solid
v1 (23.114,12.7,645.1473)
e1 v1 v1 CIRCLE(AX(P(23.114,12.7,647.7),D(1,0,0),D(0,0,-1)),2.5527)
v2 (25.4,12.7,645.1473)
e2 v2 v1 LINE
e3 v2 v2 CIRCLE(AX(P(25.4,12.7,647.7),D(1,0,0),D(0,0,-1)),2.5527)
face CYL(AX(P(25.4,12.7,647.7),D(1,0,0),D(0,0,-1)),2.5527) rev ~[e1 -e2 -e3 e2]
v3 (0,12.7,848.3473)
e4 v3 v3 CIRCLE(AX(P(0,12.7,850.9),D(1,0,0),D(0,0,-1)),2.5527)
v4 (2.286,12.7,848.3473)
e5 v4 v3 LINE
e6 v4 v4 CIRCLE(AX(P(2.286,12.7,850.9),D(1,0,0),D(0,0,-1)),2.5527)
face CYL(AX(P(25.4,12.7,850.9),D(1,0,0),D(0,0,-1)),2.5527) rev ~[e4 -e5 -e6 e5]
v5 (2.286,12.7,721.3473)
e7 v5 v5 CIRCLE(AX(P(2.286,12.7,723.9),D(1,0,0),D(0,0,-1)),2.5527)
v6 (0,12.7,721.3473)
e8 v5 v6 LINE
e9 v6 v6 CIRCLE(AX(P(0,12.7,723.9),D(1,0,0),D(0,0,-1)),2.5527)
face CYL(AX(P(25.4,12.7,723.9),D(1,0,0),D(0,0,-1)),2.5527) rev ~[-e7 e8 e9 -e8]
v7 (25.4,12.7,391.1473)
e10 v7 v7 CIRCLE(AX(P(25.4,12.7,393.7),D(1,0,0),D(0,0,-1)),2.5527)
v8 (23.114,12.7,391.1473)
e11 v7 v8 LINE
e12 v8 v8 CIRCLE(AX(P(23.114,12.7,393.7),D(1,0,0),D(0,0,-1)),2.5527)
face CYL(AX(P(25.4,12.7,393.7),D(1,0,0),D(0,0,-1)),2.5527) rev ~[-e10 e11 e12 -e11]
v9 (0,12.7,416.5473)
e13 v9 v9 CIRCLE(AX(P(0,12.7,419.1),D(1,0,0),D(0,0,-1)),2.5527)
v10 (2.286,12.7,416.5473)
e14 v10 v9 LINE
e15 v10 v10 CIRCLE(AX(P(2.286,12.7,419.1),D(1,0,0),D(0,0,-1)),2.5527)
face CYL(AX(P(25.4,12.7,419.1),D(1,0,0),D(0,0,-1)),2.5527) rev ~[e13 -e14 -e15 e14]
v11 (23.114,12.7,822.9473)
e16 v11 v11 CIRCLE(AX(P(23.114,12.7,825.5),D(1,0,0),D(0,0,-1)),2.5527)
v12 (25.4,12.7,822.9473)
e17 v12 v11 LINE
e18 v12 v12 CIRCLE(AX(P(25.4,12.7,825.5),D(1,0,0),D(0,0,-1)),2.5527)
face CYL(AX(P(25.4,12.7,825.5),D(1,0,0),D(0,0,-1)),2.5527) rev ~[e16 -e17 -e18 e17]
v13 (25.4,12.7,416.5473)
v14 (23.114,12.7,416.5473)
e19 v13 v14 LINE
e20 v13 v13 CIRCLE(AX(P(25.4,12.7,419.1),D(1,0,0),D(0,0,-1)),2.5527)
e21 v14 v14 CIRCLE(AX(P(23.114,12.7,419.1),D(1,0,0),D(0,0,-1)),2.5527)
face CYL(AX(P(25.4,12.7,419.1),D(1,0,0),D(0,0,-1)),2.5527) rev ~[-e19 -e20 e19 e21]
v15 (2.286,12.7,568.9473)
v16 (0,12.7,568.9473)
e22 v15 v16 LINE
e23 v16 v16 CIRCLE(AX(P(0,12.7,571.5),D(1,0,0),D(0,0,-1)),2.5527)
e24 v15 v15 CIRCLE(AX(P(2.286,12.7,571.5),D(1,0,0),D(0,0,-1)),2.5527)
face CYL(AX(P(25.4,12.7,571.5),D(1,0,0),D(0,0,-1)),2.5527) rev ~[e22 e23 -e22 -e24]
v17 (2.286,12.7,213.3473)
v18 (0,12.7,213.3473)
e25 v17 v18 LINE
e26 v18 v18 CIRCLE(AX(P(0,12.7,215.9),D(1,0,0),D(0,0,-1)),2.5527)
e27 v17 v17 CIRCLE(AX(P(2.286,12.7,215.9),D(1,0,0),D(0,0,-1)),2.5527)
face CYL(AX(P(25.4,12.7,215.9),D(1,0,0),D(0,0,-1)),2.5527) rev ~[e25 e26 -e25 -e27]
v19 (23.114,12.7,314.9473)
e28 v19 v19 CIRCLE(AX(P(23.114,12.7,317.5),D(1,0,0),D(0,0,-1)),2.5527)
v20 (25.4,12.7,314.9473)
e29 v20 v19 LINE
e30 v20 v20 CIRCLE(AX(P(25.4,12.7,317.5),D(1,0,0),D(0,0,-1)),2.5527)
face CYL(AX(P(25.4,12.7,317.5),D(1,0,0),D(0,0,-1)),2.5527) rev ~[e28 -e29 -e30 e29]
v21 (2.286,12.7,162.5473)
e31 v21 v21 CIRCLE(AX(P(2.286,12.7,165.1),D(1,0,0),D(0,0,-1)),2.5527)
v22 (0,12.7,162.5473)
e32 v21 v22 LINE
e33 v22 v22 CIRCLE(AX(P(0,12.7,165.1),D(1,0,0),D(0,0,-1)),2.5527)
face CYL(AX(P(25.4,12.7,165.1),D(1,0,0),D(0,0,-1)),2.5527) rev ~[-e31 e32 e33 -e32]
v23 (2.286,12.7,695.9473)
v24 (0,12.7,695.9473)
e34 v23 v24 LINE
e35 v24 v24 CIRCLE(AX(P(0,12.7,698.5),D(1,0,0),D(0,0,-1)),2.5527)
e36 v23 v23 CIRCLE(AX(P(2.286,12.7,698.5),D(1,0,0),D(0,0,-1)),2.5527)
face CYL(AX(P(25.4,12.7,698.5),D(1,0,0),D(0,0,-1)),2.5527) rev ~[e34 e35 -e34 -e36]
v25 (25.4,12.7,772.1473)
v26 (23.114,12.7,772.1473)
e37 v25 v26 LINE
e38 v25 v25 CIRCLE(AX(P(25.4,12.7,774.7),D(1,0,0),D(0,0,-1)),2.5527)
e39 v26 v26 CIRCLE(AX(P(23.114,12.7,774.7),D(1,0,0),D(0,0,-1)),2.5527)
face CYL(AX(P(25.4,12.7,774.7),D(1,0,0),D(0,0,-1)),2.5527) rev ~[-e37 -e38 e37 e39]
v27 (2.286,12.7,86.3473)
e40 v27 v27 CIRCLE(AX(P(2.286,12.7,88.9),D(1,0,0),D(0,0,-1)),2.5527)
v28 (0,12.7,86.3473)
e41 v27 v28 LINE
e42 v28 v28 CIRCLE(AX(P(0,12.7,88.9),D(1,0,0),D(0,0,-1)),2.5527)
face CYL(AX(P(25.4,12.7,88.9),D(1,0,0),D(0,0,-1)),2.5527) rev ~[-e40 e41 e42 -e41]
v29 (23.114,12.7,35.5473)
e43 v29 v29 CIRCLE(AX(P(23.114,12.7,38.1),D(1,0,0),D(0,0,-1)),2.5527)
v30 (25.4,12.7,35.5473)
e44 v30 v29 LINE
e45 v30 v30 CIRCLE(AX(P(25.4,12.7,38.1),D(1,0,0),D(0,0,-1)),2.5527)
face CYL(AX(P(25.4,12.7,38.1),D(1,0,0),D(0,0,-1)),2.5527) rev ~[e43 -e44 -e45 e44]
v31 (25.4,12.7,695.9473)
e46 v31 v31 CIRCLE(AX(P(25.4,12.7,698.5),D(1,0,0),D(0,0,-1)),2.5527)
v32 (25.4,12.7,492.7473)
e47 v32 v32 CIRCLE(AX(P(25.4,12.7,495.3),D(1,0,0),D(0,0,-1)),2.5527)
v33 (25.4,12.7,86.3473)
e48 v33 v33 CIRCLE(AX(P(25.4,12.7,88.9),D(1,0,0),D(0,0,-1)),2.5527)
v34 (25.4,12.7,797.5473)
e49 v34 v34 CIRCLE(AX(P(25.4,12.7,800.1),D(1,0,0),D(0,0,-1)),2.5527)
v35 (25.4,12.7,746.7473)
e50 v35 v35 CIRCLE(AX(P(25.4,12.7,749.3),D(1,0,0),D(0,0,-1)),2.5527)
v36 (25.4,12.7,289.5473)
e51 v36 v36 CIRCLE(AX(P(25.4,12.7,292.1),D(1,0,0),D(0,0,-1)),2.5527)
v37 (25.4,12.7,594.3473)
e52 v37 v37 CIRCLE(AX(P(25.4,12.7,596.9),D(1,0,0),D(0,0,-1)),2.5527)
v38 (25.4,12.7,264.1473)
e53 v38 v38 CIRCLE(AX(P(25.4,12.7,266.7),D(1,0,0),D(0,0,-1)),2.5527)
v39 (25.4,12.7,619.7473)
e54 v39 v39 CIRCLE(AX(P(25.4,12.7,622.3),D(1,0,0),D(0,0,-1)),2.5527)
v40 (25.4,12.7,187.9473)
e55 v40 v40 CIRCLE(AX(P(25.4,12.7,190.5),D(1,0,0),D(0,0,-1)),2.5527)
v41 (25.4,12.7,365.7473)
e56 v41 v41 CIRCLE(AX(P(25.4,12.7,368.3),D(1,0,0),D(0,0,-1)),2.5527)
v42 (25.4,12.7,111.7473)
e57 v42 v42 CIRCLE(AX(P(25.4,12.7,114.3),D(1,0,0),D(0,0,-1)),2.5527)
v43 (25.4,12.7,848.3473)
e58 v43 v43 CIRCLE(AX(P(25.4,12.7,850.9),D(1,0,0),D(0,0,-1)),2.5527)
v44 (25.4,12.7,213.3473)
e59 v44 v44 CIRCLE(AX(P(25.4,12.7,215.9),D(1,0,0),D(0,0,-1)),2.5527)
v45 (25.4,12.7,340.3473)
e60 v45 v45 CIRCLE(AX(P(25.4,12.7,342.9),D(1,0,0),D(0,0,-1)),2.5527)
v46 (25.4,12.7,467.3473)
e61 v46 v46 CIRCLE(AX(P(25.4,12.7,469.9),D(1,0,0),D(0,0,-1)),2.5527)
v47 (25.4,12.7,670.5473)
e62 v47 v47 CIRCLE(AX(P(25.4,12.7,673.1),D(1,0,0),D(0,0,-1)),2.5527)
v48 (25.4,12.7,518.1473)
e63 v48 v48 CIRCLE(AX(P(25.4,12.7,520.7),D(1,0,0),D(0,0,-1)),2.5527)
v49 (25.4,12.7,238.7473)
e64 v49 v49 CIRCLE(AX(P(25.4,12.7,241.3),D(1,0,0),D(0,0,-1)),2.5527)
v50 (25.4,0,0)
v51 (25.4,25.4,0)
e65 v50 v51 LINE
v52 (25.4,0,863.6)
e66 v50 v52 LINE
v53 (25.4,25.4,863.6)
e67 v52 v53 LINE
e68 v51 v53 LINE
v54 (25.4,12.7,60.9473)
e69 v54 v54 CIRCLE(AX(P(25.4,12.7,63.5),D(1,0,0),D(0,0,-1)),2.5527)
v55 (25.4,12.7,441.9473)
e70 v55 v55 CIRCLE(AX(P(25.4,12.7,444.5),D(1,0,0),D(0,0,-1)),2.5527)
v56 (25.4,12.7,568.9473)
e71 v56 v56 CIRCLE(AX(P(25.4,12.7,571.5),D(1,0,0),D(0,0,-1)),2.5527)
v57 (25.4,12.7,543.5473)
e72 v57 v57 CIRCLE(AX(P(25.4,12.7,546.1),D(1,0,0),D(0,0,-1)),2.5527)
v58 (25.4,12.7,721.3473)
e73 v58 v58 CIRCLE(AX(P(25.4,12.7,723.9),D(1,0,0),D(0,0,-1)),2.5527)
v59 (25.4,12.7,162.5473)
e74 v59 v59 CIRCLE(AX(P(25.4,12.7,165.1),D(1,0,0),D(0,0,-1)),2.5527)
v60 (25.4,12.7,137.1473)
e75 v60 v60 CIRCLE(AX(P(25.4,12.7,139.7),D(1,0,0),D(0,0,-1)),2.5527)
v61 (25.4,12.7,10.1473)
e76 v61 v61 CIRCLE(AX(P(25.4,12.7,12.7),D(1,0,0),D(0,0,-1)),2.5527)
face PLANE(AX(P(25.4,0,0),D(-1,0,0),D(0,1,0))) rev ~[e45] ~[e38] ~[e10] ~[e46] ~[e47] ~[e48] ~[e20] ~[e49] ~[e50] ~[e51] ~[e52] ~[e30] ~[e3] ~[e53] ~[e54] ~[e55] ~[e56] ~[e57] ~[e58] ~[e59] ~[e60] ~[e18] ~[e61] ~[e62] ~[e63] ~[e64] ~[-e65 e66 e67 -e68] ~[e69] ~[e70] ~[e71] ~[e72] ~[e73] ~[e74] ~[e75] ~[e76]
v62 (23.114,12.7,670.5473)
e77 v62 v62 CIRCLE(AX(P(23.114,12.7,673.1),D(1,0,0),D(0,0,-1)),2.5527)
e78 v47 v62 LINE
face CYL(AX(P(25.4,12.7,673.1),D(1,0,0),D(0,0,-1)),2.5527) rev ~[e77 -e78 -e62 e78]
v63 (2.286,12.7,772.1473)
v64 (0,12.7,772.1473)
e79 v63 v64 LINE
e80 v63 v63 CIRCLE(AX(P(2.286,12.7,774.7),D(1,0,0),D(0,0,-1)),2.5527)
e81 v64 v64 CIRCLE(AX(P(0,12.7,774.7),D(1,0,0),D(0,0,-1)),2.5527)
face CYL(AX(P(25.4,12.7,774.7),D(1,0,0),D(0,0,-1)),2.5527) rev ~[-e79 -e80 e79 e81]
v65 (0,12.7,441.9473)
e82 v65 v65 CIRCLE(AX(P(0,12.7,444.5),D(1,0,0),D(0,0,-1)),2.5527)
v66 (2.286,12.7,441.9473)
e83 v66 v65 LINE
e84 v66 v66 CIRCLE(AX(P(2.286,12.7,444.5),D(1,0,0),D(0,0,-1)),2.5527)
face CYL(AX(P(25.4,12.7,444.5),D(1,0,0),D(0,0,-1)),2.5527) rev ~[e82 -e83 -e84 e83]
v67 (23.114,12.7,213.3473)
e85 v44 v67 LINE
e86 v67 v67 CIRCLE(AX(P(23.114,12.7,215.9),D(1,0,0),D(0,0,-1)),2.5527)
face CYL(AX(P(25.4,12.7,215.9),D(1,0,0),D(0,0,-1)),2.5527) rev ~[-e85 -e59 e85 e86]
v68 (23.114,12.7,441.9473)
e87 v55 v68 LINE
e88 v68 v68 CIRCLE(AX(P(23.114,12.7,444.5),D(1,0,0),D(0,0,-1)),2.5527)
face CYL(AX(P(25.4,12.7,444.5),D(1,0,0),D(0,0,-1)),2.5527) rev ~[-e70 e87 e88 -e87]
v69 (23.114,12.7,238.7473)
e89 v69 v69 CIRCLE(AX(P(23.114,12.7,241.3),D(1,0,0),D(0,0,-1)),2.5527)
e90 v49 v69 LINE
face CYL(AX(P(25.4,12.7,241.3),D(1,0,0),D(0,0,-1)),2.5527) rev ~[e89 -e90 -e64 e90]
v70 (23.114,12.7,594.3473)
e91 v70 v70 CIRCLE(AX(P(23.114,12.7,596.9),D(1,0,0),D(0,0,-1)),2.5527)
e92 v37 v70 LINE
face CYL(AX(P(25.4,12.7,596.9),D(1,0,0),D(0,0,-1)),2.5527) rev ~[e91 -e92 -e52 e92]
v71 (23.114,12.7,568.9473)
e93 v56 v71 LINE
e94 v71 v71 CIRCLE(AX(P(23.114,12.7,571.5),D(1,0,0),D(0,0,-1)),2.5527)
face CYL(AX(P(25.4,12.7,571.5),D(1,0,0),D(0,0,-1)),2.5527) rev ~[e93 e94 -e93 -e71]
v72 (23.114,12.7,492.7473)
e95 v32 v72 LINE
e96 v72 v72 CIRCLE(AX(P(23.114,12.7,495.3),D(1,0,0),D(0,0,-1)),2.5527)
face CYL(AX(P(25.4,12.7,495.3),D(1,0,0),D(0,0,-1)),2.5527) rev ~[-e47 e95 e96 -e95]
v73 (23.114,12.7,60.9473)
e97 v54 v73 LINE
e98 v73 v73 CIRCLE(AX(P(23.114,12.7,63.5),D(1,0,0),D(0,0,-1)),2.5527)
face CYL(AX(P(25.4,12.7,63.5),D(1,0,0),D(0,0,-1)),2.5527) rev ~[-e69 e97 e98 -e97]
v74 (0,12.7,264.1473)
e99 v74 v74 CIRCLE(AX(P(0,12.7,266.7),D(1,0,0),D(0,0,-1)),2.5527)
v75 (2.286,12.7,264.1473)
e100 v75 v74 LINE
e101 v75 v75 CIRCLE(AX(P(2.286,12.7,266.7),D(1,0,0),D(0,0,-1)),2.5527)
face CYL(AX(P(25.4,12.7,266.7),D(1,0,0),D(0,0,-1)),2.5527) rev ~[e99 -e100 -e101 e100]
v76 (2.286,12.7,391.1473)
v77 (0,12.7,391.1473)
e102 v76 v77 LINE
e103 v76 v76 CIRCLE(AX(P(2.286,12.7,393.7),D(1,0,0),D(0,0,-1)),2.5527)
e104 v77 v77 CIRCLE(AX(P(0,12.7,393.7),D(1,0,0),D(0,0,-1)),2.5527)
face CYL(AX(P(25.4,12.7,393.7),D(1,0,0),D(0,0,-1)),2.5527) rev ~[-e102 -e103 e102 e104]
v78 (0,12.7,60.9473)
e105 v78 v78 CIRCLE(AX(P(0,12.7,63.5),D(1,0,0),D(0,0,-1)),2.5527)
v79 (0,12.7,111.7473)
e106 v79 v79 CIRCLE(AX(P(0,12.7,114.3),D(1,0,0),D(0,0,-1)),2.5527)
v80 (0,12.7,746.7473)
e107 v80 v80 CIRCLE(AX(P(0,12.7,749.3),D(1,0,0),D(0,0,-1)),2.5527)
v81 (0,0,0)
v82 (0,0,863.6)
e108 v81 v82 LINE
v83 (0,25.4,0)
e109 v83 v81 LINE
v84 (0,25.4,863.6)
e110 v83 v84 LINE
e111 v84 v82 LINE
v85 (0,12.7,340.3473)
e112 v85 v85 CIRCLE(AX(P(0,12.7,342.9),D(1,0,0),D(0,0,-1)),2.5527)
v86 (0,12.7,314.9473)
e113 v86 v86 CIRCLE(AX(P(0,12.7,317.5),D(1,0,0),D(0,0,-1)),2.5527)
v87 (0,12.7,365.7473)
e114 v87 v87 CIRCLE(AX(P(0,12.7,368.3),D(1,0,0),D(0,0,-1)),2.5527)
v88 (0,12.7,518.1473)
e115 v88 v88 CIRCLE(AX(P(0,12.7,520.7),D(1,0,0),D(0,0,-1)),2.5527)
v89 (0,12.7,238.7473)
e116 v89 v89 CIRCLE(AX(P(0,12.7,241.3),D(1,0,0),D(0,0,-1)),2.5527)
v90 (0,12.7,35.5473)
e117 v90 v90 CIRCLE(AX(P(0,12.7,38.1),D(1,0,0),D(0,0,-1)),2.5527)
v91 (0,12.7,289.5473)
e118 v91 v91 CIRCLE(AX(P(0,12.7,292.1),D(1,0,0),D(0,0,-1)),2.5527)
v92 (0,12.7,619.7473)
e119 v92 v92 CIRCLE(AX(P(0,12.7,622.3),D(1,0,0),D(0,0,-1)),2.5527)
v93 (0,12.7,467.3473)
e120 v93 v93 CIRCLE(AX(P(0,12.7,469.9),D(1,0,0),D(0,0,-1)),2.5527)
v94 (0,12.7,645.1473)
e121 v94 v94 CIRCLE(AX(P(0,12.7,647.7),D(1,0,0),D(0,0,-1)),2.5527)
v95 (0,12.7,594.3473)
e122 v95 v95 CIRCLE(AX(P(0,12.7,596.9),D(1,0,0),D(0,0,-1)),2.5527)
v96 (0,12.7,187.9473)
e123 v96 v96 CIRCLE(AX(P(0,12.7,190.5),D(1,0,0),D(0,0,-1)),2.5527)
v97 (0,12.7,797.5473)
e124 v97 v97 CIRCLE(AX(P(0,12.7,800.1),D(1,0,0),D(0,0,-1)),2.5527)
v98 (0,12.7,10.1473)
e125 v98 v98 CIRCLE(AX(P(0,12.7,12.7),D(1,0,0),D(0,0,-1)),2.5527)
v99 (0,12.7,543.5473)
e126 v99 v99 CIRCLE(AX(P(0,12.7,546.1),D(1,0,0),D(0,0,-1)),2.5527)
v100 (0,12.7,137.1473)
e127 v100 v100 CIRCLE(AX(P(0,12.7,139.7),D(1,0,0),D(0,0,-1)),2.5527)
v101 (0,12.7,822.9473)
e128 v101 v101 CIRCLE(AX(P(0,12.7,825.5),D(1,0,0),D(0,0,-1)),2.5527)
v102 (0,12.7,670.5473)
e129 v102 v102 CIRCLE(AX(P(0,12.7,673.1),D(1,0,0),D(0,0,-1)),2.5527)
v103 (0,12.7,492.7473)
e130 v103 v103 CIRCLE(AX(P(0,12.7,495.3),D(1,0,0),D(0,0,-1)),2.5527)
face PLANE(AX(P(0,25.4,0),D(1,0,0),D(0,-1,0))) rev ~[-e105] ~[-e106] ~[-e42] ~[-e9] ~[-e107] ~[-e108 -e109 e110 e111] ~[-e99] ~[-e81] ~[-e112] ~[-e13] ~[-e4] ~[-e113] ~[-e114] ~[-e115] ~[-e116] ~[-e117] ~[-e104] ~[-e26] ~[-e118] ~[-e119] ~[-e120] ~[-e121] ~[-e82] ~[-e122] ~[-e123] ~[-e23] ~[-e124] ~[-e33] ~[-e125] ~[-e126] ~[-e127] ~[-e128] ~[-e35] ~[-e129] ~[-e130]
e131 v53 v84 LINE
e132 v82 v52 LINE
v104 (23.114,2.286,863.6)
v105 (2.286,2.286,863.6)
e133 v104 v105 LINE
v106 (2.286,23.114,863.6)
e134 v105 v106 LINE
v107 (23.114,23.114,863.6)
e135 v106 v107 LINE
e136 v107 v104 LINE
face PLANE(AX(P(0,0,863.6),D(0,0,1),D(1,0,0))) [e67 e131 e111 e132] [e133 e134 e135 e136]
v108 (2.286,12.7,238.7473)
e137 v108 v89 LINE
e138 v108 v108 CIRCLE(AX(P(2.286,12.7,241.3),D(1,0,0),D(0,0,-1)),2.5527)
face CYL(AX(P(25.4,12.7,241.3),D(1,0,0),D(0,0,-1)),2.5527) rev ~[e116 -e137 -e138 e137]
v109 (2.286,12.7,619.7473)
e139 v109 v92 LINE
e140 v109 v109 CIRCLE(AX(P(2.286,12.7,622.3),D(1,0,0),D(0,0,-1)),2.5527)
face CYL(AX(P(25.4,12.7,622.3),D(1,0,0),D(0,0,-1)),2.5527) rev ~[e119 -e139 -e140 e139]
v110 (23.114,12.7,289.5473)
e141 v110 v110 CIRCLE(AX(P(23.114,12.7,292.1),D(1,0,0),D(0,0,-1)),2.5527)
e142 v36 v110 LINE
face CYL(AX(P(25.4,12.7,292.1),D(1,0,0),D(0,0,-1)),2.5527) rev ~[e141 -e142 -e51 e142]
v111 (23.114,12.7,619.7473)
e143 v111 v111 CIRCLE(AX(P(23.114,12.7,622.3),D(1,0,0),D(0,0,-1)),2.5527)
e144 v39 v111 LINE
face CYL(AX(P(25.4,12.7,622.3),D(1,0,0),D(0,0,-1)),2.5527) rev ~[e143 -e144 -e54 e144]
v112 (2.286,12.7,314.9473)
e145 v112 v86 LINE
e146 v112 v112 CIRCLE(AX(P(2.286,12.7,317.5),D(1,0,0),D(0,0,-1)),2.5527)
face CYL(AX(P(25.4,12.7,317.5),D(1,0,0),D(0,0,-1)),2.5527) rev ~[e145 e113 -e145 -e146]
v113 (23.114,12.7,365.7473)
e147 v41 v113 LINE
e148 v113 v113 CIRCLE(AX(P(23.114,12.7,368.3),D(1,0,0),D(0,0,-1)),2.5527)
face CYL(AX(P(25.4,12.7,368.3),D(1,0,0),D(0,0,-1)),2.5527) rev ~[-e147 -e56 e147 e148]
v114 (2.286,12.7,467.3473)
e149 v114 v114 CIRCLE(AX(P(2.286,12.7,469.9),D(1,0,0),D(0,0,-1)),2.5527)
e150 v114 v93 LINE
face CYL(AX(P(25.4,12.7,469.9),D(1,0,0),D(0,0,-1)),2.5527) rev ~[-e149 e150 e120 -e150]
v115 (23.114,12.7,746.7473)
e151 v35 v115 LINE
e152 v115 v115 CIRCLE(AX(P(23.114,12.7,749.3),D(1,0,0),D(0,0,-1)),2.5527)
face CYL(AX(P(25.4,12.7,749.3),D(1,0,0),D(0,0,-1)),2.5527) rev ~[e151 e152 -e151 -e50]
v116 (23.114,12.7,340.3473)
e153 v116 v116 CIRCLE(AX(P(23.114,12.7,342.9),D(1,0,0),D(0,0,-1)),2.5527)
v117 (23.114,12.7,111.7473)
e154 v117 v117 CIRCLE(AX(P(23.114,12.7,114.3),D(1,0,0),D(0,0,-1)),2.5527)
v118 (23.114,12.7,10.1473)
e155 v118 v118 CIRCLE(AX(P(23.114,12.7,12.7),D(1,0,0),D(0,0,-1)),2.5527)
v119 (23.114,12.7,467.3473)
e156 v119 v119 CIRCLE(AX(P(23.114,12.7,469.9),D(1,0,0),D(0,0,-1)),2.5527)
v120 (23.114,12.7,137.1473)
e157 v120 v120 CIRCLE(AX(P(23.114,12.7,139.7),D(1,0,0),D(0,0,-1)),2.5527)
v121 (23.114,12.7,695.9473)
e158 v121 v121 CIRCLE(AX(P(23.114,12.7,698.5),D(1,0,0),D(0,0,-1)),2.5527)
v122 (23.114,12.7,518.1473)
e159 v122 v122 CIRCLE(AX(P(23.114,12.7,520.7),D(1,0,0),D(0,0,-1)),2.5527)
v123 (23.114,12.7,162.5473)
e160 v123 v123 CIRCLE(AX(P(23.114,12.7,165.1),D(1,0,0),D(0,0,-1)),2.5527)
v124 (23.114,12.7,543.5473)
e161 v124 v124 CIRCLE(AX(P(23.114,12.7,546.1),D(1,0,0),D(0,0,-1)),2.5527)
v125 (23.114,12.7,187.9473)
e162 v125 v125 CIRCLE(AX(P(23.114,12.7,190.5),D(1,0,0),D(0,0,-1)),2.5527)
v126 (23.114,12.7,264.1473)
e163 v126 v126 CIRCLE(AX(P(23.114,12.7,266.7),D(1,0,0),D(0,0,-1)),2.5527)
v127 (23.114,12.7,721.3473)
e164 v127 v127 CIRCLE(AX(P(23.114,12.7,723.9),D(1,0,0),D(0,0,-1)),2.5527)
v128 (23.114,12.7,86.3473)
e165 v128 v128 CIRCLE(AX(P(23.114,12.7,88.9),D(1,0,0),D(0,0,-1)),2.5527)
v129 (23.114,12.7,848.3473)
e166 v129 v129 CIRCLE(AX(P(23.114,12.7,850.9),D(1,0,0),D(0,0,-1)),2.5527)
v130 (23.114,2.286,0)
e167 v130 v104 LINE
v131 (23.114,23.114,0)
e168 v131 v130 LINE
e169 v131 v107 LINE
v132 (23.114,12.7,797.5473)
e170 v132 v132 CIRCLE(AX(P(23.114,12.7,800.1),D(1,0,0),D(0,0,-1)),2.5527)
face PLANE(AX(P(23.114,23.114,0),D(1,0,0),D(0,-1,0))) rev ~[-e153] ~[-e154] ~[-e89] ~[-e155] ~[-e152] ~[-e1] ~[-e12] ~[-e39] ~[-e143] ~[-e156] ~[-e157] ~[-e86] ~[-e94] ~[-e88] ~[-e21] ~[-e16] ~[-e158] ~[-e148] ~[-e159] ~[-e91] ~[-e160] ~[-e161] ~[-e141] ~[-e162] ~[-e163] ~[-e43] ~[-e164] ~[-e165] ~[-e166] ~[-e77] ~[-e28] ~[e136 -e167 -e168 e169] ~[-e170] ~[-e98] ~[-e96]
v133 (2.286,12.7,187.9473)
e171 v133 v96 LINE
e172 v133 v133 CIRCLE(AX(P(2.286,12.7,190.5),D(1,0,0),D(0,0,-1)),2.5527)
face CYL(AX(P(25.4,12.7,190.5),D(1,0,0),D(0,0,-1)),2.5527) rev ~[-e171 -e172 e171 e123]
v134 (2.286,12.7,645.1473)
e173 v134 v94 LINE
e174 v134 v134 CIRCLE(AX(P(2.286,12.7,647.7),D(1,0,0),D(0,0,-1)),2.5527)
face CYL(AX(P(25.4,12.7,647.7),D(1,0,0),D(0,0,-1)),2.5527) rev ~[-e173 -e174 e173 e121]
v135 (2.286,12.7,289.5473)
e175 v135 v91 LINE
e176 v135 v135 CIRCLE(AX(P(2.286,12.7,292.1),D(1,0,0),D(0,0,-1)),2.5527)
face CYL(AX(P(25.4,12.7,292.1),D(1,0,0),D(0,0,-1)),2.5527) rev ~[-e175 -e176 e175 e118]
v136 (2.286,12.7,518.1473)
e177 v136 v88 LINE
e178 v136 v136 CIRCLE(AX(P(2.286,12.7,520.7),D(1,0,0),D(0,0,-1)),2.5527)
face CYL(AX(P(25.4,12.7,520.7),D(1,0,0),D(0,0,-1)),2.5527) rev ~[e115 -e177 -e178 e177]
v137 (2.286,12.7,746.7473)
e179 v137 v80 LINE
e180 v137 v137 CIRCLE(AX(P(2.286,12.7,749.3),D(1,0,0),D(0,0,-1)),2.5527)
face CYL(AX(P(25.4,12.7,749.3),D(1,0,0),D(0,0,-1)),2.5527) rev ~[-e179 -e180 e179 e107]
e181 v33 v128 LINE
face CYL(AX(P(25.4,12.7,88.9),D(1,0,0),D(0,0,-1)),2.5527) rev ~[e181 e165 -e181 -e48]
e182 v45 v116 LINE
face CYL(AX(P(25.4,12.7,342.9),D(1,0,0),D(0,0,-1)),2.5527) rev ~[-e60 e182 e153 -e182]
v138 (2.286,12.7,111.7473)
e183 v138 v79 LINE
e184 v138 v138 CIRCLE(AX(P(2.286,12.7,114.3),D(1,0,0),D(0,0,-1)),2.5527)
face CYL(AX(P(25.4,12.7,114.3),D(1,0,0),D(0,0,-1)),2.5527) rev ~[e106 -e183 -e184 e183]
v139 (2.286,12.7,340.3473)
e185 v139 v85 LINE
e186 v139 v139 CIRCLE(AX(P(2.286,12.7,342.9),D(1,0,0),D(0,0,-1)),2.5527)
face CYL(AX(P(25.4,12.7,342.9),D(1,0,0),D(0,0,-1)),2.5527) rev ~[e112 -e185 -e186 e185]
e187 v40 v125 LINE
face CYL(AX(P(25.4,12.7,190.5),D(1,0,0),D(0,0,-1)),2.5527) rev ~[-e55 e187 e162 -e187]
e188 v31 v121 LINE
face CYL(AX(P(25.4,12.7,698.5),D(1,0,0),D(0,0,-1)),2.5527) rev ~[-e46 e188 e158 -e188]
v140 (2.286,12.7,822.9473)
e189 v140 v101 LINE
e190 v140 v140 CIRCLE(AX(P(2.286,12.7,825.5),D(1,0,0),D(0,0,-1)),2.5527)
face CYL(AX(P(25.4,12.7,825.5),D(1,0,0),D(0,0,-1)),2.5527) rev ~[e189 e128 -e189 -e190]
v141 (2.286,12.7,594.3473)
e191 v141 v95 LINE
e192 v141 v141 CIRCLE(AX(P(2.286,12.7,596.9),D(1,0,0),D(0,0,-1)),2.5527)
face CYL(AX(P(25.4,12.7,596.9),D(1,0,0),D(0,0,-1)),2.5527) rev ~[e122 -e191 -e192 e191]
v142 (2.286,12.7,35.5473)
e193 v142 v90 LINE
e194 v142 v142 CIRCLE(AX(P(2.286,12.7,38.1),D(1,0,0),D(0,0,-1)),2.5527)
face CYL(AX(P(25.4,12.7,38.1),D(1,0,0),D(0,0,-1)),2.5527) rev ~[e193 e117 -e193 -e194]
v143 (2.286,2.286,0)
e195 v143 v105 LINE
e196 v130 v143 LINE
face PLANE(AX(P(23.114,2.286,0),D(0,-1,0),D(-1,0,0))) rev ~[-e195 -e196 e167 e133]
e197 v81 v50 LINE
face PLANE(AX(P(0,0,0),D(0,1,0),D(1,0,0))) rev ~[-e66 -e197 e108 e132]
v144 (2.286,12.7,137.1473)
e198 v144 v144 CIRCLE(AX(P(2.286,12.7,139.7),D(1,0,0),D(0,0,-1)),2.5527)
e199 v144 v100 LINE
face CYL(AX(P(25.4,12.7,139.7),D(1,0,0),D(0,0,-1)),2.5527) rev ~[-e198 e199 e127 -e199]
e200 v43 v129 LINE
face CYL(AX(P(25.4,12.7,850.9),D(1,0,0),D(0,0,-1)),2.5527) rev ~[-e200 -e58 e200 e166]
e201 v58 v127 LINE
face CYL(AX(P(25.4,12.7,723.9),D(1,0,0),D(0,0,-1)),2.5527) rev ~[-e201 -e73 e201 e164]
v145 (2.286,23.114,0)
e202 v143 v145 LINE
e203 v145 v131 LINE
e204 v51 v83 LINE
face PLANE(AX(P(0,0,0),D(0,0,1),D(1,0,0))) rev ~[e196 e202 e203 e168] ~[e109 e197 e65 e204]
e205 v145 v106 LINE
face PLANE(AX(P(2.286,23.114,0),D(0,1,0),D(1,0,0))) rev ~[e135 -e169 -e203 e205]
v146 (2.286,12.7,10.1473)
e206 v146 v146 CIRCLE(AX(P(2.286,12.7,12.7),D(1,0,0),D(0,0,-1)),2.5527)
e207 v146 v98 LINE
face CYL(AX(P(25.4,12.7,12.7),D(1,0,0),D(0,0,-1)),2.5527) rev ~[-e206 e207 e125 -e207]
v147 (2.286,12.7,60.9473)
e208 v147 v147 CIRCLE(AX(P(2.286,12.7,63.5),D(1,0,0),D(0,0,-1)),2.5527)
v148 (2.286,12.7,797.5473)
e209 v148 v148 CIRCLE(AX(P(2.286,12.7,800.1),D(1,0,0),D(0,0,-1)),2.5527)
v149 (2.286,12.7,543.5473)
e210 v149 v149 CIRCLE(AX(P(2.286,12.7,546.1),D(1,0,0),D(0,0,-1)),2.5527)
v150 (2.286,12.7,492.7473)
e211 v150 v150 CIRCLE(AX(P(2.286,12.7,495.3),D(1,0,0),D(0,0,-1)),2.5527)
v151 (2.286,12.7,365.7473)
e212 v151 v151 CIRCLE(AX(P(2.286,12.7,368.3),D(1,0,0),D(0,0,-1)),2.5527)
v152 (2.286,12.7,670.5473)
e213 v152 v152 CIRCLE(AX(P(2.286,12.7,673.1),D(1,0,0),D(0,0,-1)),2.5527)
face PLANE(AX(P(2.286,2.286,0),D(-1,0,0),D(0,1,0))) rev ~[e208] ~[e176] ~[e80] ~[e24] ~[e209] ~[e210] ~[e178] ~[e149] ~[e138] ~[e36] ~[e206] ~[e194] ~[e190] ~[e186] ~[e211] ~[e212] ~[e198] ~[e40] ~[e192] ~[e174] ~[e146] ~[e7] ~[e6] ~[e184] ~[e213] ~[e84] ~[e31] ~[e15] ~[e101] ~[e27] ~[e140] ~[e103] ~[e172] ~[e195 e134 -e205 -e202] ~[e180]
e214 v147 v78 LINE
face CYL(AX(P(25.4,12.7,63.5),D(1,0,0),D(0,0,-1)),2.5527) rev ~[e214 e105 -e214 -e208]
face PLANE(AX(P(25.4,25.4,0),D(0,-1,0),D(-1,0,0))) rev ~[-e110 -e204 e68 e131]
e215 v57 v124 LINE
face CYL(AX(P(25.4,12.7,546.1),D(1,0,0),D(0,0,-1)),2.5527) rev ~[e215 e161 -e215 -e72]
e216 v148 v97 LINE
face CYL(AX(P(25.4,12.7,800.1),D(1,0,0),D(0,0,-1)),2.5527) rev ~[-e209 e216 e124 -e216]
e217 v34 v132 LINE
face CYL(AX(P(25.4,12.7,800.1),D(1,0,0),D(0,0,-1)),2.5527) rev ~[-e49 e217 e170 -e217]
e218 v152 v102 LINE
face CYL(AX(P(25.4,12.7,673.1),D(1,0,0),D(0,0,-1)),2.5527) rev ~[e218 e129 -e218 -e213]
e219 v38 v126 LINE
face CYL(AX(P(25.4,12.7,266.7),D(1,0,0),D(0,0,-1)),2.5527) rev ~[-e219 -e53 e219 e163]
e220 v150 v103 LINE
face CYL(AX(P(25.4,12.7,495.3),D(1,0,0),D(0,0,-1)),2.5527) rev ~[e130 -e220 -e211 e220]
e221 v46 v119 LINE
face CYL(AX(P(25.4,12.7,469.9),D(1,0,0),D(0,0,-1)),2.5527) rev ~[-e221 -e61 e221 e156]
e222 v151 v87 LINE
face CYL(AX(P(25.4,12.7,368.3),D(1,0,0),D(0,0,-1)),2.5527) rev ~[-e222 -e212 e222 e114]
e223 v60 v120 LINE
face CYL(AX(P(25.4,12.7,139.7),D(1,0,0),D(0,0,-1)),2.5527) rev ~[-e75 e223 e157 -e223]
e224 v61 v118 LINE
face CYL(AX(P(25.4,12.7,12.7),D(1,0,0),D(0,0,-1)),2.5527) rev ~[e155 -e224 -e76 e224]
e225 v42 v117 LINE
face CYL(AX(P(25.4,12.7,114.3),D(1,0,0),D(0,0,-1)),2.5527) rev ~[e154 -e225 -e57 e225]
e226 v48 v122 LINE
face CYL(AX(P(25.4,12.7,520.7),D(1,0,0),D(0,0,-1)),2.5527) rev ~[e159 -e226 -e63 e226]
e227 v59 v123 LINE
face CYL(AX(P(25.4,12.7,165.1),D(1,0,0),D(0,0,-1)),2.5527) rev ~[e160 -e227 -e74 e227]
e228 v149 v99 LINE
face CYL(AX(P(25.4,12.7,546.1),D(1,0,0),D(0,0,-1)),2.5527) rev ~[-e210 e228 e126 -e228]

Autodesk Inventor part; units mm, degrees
ref_plane "YZ Plane" through (0, 0, 0) normal (1, 0, 0) x (0, 1, 0)
ref_plane "XZ Plane" through (0, 0, 0) normal (0, 1, 0) x (-1, 0, 0)
ref_plane "XY Plane" through (0, 0, 0) normal (0, 0, 1) x (1, 0, 0)
sketch "Sketch1" plane through (0, 0, 0) normal (0, 0, 1) x (1, 0, 0)
  line L0 (0, 0) -> (25.4, 0)
  line L1 (25.4, 0) -> (25.4, 25.4)
  line L2 (25.4, 25.4) -> (0, 25.4)
  line L3 (0, 25.4) -> (0, 0)
  line L4 (23.114, 2.286) -> (2.286, 2.286)
  line L5 (2.286, 2.286) -> (2.286, 23.114)
  line L6 (2.286, 23.114) -> (23.114, 23.114)
  line L7 (23.114, 23.114) -> (23.114, 2.286)
  dimension "d0" = 25.4
  dimension "d1" = 25.4
  dimension "d2" = 2.286
extrude "Extrusion1" add sketch "Sketch1" along normal blind 863.6
sketch "Sketch2" plane through (25.4, 0, 0) normal (1, 0, 0) x (0, 0, -1)
  circle A0 centre (-12.7, 12.7) radius 2.5527
  line L0 (0, 25.4) -> (-863.6, 25.4) projected
  line L1 (0, 0) -> (0, 25.4) projected
  circle A1 centre (-38.1, 12.7) radius 2.5527
  circle A2 centre (-63.5, 12.7) radius 2.5527
  circle A3 centre (-88.9, 12.7) radius 2.5527
  circle A4 centre (-114.3, 12.7) radius 2.5527
  circle A5 centre (-139.7, 12.7) radius 2.5527
  circle A6 centre (-165.1, 12.7) radius 2.5527
  circle A7 centre (-190.5, 12.7) radius 2.5527
  circle A8 centre (-215.9, 12.7) radius 2.5527
  circle A9 centre (-241.3, 12.7) radius 2.5527
  circle A10 centre (-266.7, 12.7) radius 2.5527
  circle A11 centre (-292.1, 12.7) radius 2.5527
  circle A12 centre (-317.5, 12.7) radius 2.5527
  circle A13 centre (-342.9, 12.7) radius 2.5527
  circle A14 centre (-368.3, 12.7) radius 2.5527
  circle A15 centre (-393.7, 12.7) radius 2.5527
  circle A16 centre (-419.1, 12.7) radius 2.5527
  circle A17 centre (-444.5, 12.7) radius 2.5527
  circle A18 centre (-469.9, 12.7) radius 2.5527
  circle A19 centre (-495.3, 12.7) radius 2.5527
  circle A20 centre (-520.7, 12.7) radius 2.5527
  circle A21 centre (-546.1, 12.7) radius 2.5527
  circle A22 centre (-571.5, 12.7) radius 2.5527
  circle A23 centre (-596.9, 12.7) radius 2.5527
  circle A24 centre (-622.3, 12.7) radius 2.5527
  circle A25 centre (-647.7, 12.7) radius 2.5527
  circle A26 centre (-673.1, 12.7) radius 2.5527
  circle A27 centre (-698.5, 12.7) radius 2.5527
  circle A28 centre (-723.9, 12.7) radius 2.5527
  circle A29 centre (-749.3, 12.7) radius 2.5527
  circle A30 centre (-774.7, 12.7) radius 2.5527
  circle A31 centre (-800.1, 12.7) radius 2.5527
  circle A32 centre (-825.5, 12.7) radius 2.5527
  circle A33 centre (-850.9, 12.7) radius 2.5527
  point P0 (0, 12.7)
  dimension "d5" = 5.1054
  dimension "d6" = 12.7
  dimension "d7" = 12.7
  dimension "d10" = 25.4
extrude "Extrusion2" cut sketch "Sketch2" against normal through all
properties part number "Angled_bar" material "Aluminum 6061"
